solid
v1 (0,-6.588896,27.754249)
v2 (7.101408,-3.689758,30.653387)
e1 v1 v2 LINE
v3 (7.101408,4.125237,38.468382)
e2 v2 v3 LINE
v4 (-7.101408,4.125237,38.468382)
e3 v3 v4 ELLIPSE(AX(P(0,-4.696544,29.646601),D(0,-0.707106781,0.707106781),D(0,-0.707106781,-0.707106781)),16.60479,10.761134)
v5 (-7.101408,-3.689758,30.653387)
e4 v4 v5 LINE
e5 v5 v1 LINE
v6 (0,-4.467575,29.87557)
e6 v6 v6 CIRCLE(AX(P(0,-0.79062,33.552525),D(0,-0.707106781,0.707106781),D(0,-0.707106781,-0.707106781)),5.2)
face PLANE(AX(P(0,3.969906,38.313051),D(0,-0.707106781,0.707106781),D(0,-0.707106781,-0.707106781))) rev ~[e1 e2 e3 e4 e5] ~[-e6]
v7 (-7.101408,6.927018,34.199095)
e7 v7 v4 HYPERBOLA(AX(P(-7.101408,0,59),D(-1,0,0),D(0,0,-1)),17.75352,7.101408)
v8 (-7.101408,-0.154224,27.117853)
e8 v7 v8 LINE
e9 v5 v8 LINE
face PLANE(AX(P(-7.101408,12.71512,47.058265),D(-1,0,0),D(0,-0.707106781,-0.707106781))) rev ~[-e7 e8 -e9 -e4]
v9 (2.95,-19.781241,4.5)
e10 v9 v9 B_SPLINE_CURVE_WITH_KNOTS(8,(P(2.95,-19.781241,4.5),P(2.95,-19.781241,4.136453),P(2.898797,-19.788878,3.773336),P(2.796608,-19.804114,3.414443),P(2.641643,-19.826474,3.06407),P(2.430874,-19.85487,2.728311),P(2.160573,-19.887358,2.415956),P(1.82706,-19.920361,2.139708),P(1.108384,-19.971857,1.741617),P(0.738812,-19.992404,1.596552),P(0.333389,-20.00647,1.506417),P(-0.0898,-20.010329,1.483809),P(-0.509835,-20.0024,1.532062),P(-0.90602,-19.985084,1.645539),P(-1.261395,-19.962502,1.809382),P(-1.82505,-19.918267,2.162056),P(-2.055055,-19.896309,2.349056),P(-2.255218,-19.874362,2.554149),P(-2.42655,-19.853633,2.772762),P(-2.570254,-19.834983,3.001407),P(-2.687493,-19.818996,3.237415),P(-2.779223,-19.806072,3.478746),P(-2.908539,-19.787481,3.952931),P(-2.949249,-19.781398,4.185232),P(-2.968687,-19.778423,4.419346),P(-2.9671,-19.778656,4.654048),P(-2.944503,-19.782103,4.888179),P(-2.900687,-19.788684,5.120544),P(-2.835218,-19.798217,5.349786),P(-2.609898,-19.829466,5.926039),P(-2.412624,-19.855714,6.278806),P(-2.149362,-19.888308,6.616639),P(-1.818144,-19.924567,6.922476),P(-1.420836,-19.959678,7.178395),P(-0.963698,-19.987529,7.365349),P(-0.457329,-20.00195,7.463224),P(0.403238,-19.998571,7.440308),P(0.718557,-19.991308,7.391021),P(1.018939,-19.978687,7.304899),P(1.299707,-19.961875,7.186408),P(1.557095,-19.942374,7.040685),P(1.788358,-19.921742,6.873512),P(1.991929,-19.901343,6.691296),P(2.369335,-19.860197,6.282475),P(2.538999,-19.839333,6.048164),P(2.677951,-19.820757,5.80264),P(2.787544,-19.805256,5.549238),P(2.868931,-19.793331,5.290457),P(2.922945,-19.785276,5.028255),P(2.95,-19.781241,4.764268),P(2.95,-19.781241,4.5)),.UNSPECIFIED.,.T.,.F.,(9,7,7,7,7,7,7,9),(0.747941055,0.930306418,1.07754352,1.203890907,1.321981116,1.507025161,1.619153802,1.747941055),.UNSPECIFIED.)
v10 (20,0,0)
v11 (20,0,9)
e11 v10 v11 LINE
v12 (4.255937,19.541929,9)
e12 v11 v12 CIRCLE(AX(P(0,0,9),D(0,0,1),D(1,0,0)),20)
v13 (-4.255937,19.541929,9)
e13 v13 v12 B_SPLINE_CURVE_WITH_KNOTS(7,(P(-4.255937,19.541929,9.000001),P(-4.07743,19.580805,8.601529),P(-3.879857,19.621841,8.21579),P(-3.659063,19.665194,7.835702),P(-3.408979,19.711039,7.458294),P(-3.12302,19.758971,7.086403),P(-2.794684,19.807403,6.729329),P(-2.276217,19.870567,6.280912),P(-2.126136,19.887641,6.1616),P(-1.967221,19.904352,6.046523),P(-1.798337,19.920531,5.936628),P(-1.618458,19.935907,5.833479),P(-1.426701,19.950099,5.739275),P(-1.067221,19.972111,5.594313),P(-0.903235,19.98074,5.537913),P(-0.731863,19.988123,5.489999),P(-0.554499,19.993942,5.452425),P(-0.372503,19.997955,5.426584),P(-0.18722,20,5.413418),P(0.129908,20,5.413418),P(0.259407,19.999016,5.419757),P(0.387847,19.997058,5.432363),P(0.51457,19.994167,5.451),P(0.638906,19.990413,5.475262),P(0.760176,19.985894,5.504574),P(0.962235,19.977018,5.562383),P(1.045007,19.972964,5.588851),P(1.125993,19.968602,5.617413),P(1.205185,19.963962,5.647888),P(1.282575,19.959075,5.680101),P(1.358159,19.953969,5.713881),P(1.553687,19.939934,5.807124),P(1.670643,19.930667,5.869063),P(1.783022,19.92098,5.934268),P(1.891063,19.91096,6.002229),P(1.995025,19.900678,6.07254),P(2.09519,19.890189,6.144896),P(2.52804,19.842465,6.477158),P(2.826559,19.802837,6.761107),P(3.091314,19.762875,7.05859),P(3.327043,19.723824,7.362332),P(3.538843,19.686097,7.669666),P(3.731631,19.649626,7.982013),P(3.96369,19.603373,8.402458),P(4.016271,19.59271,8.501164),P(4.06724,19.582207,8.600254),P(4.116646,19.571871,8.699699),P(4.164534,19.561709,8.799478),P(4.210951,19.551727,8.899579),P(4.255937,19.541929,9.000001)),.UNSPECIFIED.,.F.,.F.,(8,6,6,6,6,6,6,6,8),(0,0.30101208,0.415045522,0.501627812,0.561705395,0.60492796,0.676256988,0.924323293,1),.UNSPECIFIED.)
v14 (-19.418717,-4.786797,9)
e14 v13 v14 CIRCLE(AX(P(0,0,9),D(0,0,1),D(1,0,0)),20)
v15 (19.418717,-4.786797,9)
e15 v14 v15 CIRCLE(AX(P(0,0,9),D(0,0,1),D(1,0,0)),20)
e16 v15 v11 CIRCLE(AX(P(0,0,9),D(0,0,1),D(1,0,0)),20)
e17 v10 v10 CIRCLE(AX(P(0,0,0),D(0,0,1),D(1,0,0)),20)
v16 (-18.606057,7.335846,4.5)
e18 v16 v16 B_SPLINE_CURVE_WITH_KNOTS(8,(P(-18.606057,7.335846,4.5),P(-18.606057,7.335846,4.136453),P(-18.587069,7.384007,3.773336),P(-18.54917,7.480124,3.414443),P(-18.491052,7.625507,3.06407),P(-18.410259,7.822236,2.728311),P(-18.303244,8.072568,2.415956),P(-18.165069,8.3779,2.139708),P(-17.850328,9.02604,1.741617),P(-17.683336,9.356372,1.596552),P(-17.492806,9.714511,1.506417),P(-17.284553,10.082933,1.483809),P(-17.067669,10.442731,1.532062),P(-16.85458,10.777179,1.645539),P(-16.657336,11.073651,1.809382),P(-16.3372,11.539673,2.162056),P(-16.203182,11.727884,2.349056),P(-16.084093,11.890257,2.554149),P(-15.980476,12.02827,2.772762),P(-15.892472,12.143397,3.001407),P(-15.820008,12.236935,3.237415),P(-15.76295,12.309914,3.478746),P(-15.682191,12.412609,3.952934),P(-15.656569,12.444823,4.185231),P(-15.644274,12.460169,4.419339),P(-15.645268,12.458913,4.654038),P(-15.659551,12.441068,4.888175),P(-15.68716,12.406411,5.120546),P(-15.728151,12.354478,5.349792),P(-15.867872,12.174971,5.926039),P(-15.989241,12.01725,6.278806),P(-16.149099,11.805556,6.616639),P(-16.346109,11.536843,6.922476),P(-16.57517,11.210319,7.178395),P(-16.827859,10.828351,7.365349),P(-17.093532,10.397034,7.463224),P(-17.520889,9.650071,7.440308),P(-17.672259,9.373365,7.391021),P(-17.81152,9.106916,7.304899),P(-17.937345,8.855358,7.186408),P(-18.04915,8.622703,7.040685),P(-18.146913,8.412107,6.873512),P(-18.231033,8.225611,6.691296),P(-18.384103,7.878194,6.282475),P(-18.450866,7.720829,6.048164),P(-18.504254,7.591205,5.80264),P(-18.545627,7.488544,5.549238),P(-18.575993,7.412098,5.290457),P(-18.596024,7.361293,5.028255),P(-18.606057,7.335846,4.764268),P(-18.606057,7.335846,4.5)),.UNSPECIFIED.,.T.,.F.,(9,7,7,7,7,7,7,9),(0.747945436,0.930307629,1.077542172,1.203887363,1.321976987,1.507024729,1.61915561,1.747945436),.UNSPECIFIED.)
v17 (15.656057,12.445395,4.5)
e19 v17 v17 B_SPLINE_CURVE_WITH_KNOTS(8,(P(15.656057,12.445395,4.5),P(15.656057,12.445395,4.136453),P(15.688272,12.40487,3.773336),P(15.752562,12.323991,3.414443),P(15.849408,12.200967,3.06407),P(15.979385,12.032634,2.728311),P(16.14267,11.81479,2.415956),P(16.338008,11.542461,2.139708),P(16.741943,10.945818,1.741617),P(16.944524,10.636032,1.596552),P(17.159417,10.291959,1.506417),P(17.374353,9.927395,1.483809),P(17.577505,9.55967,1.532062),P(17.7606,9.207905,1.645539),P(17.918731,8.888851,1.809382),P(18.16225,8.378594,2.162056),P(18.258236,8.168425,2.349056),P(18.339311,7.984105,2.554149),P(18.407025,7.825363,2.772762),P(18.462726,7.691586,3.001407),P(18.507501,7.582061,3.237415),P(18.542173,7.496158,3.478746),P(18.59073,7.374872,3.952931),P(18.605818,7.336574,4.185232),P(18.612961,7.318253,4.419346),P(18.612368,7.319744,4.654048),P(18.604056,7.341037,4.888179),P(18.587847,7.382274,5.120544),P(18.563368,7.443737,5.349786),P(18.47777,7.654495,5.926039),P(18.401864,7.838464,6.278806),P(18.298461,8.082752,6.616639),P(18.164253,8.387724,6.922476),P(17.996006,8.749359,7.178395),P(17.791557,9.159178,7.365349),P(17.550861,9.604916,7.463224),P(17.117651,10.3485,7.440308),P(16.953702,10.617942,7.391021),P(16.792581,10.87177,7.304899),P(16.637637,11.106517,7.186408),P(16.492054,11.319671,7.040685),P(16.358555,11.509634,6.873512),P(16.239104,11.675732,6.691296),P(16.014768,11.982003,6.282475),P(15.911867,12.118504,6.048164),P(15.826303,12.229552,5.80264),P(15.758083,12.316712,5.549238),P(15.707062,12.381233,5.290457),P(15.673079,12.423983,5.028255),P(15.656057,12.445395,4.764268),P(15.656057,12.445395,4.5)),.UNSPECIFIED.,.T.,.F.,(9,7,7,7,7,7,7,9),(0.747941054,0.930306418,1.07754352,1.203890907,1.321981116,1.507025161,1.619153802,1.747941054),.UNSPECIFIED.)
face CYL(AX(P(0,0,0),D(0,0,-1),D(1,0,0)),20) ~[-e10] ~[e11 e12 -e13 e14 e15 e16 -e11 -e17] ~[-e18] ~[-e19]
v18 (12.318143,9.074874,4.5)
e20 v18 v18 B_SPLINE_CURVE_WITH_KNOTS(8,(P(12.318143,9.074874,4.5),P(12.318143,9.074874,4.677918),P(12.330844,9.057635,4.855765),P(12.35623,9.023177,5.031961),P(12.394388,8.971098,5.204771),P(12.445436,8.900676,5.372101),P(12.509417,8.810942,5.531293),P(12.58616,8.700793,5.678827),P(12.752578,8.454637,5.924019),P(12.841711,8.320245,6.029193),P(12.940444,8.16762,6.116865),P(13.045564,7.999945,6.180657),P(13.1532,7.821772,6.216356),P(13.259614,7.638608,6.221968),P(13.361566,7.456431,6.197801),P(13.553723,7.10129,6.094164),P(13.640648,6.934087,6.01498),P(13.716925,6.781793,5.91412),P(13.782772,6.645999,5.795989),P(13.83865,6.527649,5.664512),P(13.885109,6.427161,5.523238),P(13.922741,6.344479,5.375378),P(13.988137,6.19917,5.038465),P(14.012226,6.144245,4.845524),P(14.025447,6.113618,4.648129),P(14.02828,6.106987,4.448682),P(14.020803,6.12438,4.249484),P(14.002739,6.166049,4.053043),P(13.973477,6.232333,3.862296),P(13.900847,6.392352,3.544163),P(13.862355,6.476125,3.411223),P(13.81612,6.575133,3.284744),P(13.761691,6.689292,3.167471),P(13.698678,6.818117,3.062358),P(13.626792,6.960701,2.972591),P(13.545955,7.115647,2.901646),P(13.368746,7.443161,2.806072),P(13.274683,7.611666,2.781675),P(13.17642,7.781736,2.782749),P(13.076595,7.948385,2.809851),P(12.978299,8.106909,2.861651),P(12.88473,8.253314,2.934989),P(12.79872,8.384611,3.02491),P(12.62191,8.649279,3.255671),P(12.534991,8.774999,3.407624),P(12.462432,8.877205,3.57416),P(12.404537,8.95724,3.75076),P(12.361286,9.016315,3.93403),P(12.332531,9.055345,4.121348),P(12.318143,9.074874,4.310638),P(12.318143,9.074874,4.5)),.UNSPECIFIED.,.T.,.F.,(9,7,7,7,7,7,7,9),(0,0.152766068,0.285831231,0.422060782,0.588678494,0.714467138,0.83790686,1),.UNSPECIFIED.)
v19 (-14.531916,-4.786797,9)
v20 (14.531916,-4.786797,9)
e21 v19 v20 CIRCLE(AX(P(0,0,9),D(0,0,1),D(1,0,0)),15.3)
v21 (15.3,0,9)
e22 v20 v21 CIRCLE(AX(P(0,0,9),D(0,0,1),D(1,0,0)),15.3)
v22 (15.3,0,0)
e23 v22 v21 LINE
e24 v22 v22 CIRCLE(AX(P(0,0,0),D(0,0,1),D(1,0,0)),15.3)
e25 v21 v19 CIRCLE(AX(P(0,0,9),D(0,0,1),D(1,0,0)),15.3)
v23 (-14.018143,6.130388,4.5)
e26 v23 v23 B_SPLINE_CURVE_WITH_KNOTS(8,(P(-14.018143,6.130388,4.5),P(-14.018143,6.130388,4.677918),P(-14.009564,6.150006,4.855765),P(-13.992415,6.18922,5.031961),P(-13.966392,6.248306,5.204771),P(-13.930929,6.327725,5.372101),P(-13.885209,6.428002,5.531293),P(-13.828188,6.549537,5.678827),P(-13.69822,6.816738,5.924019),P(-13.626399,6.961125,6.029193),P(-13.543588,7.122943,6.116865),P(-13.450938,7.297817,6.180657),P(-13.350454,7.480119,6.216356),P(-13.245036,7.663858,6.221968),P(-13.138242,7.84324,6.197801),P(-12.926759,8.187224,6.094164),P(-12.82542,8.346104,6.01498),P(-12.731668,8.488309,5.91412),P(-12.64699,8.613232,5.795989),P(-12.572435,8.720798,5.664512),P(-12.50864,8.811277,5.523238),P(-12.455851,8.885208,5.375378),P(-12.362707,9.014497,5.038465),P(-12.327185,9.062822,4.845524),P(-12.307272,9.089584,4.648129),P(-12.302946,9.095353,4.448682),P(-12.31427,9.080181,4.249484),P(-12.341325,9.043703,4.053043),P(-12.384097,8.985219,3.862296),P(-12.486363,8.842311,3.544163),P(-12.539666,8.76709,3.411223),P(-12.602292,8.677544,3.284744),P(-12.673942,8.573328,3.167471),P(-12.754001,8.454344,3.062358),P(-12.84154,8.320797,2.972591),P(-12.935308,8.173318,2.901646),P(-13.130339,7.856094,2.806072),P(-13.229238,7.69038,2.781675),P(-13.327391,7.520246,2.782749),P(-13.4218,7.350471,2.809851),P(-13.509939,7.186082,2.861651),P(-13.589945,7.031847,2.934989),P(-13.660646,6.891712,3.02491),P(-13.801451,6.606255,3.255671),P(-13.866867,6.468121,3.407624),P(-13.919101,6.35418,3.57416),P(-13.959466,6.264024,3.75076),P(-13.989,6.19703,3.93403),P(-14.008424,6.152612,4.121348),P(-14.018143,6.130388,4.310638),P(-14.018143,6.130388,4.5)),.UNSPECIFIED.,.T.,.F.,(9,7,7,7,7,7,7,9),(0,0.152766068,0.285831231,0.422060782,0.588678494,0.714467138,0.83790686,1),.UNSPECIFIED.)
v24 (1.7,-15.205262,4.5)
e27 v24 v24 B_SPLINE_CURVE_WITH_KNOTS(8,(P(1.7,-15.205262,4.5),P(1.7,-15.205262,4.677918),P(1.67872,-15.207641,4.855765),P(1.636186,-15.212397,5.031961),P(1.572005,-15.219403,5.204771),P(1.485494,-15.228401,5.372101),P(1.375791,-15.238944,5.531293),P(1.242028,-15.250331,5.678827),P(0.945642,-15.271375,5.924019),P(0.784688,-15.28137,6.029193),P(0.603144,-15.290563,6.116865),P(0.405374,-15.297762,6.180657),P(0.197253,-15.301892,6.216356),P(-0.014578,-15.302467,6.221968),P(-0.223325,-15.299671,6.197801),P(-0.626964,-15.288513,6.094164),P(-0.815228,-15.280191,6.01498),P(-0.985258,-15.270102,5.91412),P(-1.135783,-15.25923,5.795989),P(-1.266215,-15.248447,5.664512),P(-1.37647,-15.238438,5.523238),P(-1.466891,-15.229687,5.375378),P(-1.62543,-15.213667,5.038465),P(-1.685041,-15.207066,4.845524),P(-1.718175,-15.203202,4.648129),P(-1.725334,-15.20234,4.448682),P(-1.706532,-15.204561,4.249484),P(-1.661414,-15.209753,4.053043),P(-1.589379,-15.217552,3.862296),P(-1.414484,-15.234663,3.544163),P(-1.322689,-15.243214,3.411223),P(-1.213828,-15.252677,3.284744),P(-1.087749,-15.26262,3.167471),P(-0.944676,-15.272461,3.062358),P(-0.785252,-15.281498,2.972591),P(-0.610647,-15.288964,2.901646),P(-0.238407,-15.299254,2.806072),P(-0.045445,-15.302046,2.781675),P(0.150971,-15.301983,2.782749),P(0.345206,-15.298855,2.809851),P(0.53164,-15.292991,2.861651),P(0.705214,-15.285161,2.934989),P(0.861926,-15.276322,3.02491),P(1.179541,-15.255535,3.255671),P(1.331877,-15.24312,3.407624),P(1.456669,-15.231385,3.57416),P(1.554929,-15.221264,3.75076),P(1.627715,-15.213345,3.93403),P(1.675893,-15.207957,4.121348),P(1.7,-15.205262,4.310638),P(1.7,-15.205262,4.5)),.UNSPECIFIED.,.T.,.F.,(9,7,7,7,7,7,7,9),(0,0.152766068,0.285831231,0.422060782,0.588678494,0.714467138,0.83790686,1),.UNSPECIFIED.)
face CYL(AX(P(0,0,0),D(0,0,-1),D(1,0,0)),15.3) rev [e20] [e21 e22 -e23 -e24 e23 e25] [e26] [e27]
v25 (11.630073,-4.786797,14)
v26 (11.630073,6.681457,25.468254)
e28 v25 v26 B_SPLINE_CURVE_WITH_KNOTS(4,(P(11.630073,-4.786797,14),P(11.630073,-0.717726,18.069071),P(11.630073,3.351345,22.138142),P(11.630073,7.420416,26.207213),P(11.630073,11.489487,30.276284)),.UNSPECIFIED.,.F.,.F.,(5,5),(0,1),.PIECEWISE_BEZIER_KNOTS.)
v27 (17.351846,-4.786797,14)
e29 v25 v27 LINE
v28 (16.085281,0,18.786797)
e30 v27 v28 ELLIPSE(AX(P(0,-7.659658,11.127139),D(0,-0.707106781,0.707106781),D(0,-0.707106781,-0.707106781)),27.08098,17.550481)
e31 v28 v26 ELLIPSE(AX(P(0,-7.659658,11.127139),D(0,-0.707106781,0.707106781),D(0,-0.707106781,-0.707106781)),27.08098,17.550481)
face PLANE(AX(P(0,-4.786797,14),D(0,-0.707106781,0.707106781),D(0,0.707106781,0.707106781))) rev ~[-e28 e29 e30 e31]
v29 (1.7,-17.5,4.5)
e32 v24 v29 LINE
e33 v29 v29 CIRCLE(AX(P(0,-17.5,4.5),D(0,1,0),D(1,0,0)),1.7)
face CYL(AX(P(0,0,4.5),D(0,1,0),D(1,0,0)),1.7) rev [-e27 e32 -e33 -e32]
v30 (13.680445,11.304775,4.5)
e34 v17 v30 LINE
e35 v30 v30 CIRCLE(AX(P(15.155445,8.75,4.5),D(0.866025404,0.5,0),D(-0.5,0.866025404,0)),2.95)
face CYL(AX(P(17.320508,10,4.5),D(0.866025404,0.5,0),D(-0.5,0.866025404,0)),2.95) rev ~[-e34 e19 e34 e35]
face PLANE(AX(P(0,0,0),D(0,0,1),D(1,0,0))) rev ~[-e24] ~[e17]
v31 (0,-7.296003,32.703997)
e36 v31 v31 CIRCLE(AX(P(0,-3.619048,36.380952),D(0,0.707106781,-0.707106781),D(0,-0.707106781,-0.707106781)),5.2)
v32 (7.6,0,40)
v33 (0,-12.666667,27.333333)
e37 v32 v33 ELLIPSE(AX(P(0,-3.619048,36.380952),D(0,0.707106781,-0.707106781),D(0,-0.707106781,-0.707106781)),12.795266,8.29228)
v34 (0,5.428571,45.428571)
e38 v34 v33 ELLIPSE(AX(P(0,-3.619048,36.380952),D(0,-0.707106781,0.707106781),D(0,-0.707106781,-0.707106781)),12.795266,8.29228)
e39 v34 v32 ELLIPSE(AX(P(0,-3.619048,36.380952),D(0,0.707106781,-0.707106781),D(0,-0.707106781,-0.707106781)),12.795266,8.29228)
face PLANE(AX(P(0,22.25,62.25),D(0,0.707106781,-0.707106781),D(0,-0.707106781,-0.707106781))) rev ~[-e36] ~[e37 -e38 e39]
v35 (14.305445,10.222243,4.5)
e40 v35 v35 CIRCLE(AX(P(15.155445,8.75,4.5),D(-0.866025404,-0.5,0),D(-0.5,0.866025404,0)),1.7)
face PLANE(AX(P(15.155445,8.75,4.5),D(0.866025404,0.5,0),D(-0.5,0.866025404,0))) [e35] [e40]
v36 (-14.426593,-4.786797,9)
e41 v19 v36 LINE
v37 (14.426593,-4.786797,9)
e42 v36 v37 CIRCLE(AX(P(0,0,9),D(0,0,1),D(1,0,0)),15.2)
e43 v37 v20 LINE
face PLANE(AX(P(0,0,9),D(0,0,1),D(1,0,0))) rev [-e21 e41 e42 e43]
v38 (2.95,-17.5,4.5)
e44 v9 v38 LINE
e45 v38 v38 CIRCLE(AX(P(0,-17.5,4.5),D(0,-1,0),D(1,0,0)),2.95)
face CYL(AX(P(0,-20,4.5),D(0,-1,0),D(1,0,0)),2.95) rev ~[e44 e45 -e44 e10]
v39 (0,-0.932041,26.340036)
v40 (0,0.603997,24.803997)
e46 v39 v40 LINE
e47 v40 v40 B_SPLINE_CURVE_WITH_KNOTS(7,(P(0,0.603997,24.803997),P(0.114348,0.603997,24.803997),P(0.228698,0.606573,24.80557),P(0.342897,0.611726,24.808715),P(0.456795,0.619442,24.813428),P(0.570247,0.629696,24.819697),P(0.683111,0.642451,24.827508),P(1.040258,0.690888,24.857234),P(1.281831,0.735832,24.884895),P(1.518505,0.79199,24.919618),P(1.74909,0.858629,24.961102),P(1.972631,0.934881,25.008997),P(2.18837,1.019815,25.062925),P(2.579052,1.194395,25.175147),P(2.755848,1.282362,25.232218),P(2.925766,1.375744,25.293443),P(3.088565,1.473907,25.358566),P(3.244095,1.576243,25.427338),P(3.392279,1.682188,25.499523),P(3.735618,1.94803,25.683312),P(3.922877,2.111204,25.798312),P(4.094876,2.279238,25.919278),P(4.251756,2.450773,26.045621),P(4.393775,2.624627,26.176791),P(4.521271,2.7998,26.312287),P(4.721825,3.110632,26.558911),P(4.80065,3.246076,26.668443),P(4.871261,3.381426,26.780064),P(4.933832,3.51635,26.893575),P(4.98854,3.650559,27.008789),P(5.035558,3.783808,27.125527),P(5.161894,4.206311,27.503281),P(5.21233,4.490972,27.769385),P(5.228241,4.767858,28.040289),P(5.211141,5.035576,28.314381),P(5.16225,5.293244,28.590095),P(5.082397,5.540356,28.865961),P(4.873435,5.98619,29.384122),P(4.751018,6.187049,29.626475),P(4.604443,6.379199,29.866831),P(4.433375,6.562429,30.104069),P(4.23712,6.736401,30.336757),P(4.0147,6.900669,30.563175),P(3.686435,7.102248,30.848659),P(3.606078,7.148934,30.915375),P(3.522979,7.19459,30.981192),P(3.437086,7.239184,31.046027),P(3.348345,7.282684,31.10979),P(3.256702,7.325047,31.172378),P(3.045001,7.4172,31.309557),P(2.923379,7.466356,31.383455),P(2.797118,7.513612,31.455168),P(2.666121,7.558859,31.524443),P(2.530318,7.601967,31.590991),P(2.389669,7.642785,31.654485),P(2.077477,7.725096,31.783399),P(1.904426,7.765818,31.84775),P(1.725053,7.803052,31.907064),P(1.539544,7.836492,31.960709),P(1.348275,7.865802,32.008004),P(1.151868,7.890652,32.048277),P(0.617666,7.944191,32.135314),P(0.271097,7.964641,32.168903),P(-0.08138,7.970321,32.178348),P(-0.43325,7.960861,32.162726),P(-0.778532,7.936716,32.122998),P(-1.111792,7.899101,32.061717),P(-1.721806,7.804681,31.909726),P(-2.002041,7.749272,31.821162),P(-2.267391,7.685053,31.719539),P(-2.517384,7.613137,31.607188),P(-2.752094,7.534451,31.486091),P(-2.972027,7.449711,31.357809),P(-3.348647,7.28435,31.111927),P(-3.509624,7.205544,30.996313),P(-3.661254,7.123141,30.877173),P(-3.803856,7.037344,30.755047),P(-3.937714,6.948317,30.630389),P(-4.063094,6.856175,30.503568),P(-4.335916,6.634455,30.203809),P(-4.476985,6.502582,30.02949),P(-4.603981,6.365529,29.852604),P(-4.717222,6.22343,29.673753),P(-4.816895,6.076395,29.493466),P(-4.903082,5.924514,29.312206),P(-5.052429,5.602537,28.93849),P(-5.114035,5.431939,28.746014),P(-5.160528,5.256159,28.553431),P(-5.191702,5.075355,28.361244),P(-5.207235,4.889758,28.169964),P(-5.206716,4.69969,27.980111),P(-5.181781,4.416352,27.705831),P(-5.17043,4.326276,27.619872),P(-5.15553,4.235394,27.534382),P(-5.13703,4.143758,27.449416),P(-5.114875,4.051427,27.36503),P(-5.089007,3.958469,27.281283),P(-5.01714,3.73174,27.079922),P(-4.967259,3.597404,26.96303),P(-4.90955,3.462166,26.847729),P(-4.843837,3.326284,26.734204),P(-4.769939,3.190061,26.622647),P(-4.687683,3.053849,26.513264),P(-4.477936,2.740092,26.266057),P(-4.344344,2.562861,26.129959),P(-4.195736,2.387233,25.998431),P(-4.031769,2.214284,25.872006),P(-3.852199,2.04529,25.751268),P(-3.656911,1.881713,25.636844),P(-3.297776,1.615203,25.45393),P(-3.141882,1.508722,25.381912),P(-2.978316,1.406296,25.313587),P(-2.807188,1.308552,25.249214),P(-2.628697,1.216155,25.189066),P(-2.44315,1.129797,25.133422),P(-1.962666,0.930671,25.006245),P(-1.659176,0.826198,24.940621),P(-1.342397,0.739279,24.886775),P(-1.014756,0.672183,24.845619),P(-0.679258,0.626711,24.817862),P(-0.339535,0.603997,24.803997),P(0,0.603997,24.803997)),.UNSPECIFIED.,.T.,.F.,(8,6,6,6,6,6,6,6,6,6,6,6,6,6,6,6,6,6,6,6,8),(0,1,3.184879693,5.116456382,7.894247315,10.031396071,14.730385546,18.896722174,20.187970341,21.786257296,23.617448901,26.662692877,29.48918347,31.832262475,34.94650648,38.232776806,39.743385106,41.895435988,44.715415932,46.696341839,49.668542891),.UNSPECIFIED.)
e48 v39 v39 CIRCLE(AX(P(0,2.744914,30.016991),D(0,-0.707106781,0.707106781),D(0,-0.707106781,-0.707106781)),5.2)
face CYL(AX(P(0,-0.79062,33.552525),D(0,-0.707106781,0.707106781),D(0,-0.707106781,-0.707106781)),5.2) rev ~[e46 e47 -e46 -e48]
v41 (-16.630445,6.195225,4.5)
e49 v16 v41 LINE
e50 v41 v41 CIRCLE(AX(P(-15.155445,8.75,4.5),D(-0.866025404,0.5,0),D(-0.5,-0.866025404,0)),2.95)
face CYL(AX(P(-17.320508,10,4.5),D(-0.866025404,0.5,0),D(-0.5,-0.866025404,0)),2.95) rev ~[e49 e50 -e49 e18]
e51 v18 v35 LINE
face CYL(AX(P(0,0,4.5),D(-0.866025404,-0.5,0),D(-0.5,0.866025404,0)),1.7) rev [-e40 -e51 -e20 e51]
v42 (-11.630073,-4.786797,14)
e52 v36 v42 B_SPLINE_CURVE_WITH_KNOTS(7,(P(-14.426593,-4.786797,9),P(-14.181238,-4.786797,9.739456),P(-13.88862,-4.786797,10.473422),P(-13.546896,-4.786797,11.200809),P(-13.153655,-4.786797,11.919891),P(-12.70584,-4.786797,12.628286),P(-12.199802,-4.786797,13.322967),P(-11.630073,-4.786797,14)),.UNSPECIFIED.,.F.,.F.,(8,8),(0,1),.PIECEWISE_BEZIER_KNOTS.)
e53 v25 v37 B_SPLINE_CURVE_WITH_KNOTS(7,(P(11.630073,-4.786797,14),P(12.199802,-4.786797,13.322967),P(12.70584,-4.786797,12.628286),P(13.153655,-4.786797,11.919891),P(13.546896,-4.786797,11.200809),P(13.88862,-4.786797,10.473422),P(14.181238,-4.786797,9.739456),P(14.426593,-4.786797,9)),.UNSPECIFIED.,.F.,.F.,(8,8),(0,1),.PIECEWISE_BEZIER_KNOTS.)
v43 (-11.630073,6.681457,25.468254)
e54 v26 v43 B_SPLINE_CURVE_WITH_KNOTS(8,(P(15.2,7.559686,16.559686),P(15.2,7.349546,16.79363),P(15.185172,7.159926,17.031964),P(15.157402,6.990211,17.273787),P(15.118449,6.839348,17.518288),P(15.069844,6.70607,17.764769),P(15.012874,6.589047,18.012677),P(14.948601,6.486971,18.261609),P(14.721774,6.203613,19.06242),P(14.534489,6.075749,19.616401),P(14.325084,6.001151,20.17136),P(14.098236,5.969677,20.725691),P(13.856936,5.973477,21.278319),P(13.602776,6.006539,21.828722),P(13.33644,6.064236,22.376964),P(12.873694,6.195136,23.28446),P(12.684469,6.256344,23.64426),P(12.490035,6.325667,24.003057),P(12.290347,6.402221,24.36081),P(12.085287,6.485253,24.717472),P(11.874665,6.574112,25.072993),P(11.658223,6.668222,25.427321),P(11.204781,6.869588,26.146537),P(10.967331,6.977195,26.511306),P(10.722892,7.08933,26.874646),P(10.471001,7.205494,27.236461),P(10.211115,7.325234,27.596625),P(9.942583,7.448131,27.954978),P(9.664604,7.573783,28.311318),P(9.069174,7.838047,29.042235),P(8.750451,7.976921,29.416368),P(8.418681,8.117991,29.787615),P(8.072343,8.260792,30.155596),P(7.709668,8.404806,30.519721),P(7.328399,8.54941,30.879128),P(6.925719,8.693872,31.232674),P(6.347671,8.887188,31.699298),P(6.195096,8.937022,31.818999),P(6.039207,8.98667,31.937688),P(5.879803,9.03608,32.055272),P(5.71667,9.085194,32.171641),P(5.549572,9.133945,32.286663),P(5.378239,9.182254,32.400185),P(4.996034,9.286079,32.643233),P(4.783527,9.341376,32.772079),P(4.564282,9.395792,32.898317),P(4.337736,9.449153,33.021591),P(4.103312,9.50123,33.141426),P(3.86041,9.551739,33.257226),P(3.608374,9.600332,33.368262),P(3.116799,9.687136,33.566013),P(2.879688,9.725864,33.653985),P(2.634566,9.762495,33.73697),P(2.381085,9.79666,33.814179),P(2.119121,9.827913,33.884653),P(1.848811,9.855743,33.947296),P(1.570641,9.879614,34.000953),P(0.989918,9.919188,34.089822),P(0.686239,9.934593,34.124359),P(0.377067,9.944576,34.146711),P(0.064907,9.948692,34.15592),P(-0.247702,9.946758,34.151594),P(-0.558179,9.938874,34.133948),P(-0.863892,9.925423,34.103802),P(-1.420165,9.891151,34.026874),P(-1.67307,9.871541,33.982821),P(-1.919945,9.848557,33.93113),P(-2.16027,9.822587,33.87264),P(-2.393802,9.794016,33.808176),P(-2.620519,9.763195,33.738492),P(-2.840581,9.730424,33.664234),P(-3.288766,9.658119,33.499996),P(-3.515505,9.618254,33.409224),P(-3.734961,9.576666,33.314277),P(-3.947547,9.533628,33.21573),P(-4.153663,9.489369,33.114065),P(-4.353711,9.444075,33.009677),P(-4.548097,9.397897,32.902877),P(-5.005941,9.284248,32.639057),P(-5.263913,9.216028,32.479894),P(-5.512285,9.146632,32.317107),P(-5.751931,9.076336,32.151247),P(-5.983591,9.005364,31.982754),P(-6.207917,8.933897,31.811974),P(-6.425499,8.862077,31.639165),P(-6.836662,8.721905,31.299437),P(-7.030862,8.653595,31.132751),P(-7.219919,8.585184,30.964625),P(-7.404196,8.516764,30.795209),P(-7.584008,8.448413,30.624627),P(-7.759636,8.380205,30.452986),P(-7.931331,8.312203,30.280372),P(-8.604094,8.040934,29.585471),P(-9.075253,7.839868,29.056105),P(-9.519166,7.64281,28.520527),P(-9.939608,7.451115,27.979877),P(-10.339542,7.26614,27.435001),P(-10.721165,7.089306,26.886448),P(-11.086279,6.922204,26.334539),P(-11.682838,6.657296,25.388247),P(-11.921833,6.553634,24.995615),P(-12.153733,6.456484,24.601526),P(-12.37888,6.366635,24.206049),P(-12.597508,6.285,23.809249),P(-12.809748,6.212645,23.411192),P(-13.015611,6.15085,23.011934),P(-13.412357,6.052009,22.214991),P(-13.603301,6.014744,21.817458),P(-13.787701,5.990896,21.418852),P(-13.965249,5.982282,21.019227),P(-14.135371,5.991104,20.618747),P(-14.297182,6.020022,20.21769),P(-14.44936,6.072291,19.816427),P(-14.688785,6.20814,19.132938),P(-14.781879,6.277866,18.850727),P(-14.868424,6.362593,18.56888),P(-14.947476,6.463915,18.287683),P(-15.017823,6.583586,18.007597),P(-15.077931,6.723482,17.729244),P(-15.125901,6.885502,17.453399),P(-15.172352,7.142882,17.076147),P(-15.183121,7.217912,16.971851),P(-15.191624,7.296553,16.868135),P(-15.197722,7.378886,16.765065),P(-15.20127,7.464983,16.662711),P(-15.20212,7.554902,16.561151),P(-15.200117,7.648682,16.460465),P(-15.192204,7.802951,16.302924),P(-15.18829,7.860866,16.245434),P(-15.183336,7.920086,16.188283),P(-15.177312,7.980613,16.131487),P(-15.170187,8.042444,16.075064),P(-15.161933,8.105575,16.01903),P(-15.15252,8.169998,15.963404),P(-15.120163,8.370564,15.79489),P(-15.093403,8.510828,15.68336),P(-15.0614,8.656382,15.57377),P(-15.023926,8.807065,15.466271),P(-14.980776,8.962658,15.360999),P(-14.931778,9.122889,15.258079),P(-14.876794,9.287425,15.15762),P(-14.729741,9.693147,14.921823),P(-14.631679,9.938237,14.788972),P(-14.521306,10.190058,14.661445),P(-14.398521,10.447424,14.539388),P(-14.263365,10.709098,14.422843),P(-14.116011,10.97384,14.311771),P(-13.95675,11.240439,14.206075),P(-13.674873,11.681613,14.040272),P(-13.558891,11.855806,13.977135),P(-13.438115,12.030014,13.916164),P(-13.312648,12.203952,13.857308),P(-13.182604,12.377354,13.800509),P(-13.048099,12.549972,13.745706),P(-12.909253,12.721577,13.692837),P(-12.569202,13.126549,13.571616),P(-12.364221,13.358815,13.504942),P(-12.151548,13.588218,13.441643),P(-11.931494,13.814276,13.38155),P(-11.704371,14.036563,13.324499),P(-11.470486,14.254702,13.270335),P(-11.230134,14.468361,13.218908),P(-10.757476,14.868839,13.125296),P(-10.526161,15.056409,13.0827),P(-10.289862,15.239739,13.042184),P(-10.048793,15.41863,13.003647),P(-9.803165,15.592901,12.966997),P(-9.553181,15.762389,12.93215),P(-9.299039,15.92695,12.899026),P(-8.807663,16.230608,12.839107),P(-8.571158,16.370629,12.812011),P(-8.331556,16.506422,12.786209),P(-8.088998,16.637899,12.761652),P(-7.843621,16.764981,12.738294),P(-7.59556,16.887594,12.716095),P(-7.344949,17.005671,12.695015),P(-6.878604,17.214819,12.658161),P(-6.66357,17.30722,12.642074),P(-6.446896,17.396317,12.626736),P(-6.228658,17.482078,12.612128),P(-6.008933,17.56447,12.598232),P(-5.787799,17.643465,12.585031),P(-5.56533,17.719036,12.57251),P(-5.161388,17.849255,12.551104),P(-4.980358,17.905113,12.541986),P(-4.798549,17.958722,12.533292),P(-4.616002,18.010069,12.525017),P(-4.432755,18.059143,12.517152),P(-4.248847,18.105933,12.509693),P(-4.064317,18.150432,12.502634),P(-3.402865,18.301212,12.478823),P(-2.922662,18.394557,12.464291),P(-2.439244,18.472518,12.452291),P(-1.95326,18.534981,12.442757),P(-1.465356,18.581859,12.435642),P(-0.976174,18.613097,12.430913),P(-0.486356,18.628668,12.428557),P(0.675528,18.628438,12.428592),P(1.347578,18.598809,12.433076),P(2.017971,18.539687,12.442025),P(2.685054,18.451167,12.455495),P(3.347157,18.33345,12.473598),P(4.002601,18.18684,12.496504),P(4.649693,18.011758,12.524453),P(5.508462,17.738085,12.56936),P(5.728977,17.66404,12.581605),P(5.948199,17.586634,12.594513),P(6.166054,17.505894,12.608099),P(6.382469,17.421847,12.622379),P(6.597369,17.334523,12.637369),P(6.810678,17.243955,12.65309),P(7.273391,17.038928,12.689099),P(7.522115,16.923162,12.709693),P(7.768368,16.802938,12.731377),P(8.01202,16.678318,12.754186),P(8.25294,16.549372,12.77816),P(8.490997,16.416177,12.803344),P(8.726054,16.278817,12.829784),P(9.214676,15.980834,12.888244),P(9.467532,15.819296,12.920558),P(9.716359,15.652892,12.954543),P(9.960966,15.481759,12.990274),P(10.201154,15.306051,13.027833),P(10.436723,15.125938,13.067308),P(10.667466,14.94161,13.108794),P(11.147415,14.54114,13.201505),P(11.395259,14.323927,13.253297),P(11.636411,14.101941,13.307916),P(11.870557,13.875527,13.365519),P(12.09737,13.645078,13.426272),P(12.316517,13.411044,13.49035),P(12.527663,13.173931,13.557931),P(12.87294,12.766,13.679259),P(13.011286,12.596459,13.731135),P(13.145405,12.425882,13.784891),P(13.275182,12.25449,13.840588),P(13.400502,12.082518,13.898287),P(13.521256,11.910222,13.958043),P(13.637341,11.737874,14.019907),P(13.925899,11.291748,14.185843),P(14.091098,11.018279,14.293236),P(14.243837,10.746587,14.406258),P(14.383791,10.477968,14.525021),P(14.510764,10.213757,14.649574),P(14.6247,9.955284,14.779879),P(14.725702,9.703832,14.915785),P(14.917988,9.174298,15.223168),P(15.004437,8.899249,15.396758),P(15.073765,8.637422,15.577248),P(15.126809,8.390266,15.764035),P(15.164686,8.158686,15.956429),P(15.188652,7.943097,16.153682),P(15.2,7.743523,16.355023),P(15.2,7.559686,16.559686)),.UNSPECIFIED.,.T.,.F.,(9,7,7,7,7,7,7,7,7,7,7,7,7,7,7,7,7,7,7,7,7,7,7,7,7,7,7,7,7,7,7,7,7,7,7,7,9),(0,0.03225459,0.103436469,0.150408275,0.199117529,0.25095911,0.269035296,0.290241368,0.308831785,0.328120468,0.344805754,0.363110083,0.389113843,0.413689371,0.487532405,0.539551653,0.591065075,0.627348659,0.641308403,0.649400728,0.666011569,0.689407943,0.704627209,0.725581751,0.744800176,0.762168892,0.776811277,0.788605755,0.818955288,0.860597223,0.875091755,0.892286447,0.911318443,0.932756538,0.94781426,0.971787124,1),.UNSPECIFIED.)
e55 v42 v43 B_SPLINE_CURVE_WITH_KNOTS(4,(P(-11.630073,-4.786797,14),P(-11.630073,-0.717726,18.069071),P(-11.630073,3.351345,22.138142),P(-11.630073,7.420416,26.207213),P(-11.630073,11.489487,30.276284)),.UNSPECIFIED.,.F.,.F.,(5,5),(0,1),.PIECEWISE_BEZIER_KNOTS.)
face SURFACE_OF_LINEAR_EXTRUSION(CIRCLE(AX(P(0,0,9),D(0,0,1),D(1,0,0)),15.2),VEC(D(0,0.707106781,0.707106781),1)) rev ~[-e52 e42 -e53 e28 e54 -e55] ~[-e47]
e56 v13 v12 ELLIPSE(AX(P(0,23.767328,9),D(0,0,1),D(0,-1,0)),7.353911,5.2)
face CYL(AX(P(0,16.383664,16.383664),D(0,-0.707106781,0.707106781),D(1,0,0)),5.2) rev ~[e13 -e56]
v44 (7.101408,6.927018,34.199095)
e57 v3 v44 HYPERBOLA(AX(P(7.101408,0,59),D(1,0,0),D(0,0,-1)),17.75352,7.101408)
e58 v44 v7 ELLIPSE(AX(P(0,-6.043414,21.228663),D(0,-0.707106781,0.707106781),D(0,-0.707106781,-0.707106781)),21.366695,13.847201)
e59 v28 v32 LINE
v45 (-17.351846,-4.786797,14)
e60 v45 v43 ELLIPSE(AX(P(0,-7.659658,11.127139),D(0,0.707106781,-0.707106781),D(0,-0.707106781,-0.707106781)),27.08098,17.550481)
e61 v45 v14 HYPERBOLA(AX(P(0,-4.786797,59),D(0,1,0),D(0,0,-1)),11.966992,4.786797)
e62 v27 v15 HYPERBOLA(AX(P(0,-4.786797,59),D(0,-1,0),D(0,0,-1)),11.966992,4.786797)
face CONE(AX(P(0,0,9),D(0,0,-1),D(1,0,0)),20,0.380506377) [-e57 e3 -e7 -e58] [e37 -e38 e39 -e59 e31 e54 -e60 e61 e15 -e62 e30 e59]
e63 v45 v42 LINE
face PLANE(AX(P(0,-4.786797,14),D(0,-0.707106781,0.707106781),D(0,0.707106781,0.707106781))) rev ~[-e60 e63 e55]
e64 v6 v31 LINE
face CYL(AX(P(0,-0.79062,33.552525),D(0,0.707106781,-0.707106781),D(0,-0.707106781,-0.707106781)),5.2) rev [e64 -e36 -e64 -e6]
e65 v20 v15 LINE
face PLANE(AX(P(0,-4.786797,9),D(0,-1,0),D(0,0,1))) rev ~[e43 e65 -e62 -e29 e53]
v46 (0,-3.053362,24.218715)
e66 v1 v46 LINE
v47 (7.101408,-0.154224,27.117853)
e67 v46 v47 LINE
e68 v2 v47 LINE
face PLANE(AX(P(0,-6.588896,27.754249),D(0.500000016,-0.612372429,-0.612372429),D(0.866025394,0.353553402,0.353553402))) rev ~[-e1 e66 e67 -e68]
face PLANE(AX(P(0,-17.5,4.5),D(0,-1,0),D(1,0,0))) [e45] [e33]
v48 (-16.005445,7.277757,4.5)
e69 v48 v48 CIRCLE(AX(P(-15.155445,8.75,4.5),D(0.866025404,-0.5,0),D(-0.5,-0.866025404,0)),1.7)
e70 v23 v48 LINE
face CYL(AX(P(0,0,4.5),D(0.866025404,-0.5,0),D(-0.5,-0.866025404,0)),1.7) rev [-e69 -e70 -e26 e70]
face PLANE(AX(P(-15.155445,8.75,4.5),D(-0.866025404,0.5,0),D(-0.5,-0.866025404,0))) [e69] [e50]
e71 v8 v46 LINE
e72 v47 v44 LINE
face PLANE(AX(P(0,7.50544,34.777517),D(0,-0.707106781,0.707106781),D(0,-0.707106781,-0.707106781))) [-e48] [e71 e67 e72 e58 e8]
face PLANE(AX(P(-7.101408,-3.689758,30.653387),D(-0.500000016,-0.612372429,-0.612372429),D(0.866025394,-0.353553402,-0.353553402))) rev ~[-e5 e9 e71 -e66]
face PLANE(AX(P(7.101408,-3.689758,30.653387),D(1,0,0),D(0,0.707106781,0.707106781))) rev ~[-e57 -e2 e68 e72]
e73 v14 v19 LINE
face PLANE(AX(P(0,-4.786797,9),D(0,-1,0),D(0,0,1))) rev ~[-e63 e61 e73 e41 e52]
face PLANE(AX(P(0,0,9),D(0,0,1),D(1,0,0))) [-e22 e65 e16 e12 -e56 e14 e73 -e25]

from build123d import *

# Parameters (mm, degrees)
POCKET002_DEPTH      = 20.001
POCKET002_DEPTH_BACK = -20.001
POCKET003_DEPTH      = 5
SKETCH004_R          = 5.2
POCKET004_DEPTH      = 26.045604
POCKET004_DEPTH_BACK = -21.981715
SKETCH007_R          = 15.2
SKETCH_R             = 20
SKETCH_R_2           = 15.3
PAD_DEPTH            = 9
SKETCH001_R          = 1.7
POCKET_DEPTH         = 134.561028
SKETCH002_R          = 2.95
POCKET001_DEPTH      = 2.5
SKETCH006_R          = 5.2
POCKET005_DEPTH      = 14.143136
POLARPATTERN_COUNT   = 3


with BuildPart() as body001:
    # Cone → Cone (revolve)
    with BuildSketch(Plane(origin=(0, 0, 9), x_dir=(1, 0, 0), z_dir=(0, -1, 0))):
        Polygon((0, 0), (20, 0), (0, 50), align=None)
    revolve(axis=Axis((0, 0, 9), (0, 0, 1)))

    # Sketch003 → Pocket002 (cut, two sides)
    with BuildSketch(Plane.YZ) as pocket002_sk:
        Polygon((22.25, 62.25), (-22.25, 17.75), (-27.75, 17.75), (-27.75, 67.75), (22.25, 67.75), align=None)
        Polygon((30.213203, 9), (-4.786797, 9), (-4.786797, 14), (30.213203, 49), align=None)
    extrude(amount=-POCKET002_DEPTH, mode=Mode.SUBTRACT)
    extrude(pocket002_sk.sketch, amount=-POCKET002_DEPTH_BACK, mode=Mode.SUBTRACT)

    # Sketch005 (on DatumPlane) → Pocket003 (cut)
    with BuildSketch(Plane(origin=(0, -0.79062, 33.552525), x_dir=(0, -0.707107, -0.707107), z_dir=(0, -0.707107, 0.707107))):
        Polygon((8.2, 0), (4.1, 7.101408), (-4.1, 7.101408), (-19.1, 7.101408), (-19.1, -7.101408), (-4.1, -7.101408), (4.1, -7.101408), align=None)
    extrude(amount=-POCKET003_DEPTH, mode=Mode.SUBTRACT)

    # Sketch004 (on DatumPlane) → Pocket004 (cut, two sides)
    with BuildSketch(Plane(origin=(0, -0.79062, 33.552525), x_dir=(0, -0.707107, -0.707107), z_dir=(0, -0.707107, 0.707107))) as pocket004_sk:
        Circle(SKETCH004_R)
    extrude(amount=-POCKET004_DEPTH, mode=Mode.SUBTRACT)
    extrude(pocket004_sk.sketch, amount=-POCKET004_DEPTH_BACK, mode=Mode.SUBTRACT)

    # SubtractivePipe: sweep along a path in Sketch008
    with BuildLine(Plane.YZ) as subtractivepipe_path:
        Line((0, 9), (28.284271, 37.284271))
    # Sketch007 (on Face1 of CopyPolarPattern) → SubtractivePipe (sweep, cut)
    with BuildSketch(Plane.XY.offset(9)):
        Circle(SKETCH007_R)
    sweep(path=subtractivepipe_path.line, mode=Mode.SUBTRACT)


with BuildPart() as body:
    # Sketch → Pad (new body)
    with BuildSketch(Plane.XY):
        Circle(SKETCH_R)
        Circle(SKETCH_R_2, mode=Mode.SUBTRACT)
    extrude(amount=PAD_DEPTH)

    # Sketch001 → Pocket (cut, through all)
    with BuildSketch(Plane.XZ):
        with Locations((0, 4.5)):
            Circle(SKETCH001_R)
    pocket = extrude(amount=POCKET_DEPTH, mode=Mode.SUBTRACT)

    # Sketch002 (on DatumPlane) → Pocket001 (cut)
    with BuildSketch(Plane.XZ.offset(20)):
        with Locations((0, 4.5)):
            Circle(SKETCH002_R)
    pocket001 = extrude(amount=-POCKET001_DEPTH, mode=Mode.SUBTRACT)

    # Sketch006 (on DatumPlane) → Pocket005 (cut, through all)
    with BuildSketch(Plane(origin=(0, 0, 0), x_dir=(1, 0, 0), z_dir=(0, -0.707107, 0.707107))):
        with Locations((0, 23.17)):
            Circle(SKETCH006_R)
    extrude(amount=-POCKET005_DEPTH, mode=Mode.SUBTRACT)

    # PolarPattern: Pocket, Pocket001 ×3 about axis
    polarpattern_axis = Axis((0, 0, 0), (0, 0, 1))
    for i in range(1, POLARPATTERN_COUNT):
        add(pocket.rotate(polarpattern_axis, i * 360 / POLARPATTERN_COUNT), mode=Mode.SUBTRACT)
        add(pocket001.rotate(polarpattern_axis, i * 360 / POLARPATTERN_COUNT), mode=Mode.SUBTRACT)

    # Boolean: union Body001
    add(body001.part)


solid = body.part
